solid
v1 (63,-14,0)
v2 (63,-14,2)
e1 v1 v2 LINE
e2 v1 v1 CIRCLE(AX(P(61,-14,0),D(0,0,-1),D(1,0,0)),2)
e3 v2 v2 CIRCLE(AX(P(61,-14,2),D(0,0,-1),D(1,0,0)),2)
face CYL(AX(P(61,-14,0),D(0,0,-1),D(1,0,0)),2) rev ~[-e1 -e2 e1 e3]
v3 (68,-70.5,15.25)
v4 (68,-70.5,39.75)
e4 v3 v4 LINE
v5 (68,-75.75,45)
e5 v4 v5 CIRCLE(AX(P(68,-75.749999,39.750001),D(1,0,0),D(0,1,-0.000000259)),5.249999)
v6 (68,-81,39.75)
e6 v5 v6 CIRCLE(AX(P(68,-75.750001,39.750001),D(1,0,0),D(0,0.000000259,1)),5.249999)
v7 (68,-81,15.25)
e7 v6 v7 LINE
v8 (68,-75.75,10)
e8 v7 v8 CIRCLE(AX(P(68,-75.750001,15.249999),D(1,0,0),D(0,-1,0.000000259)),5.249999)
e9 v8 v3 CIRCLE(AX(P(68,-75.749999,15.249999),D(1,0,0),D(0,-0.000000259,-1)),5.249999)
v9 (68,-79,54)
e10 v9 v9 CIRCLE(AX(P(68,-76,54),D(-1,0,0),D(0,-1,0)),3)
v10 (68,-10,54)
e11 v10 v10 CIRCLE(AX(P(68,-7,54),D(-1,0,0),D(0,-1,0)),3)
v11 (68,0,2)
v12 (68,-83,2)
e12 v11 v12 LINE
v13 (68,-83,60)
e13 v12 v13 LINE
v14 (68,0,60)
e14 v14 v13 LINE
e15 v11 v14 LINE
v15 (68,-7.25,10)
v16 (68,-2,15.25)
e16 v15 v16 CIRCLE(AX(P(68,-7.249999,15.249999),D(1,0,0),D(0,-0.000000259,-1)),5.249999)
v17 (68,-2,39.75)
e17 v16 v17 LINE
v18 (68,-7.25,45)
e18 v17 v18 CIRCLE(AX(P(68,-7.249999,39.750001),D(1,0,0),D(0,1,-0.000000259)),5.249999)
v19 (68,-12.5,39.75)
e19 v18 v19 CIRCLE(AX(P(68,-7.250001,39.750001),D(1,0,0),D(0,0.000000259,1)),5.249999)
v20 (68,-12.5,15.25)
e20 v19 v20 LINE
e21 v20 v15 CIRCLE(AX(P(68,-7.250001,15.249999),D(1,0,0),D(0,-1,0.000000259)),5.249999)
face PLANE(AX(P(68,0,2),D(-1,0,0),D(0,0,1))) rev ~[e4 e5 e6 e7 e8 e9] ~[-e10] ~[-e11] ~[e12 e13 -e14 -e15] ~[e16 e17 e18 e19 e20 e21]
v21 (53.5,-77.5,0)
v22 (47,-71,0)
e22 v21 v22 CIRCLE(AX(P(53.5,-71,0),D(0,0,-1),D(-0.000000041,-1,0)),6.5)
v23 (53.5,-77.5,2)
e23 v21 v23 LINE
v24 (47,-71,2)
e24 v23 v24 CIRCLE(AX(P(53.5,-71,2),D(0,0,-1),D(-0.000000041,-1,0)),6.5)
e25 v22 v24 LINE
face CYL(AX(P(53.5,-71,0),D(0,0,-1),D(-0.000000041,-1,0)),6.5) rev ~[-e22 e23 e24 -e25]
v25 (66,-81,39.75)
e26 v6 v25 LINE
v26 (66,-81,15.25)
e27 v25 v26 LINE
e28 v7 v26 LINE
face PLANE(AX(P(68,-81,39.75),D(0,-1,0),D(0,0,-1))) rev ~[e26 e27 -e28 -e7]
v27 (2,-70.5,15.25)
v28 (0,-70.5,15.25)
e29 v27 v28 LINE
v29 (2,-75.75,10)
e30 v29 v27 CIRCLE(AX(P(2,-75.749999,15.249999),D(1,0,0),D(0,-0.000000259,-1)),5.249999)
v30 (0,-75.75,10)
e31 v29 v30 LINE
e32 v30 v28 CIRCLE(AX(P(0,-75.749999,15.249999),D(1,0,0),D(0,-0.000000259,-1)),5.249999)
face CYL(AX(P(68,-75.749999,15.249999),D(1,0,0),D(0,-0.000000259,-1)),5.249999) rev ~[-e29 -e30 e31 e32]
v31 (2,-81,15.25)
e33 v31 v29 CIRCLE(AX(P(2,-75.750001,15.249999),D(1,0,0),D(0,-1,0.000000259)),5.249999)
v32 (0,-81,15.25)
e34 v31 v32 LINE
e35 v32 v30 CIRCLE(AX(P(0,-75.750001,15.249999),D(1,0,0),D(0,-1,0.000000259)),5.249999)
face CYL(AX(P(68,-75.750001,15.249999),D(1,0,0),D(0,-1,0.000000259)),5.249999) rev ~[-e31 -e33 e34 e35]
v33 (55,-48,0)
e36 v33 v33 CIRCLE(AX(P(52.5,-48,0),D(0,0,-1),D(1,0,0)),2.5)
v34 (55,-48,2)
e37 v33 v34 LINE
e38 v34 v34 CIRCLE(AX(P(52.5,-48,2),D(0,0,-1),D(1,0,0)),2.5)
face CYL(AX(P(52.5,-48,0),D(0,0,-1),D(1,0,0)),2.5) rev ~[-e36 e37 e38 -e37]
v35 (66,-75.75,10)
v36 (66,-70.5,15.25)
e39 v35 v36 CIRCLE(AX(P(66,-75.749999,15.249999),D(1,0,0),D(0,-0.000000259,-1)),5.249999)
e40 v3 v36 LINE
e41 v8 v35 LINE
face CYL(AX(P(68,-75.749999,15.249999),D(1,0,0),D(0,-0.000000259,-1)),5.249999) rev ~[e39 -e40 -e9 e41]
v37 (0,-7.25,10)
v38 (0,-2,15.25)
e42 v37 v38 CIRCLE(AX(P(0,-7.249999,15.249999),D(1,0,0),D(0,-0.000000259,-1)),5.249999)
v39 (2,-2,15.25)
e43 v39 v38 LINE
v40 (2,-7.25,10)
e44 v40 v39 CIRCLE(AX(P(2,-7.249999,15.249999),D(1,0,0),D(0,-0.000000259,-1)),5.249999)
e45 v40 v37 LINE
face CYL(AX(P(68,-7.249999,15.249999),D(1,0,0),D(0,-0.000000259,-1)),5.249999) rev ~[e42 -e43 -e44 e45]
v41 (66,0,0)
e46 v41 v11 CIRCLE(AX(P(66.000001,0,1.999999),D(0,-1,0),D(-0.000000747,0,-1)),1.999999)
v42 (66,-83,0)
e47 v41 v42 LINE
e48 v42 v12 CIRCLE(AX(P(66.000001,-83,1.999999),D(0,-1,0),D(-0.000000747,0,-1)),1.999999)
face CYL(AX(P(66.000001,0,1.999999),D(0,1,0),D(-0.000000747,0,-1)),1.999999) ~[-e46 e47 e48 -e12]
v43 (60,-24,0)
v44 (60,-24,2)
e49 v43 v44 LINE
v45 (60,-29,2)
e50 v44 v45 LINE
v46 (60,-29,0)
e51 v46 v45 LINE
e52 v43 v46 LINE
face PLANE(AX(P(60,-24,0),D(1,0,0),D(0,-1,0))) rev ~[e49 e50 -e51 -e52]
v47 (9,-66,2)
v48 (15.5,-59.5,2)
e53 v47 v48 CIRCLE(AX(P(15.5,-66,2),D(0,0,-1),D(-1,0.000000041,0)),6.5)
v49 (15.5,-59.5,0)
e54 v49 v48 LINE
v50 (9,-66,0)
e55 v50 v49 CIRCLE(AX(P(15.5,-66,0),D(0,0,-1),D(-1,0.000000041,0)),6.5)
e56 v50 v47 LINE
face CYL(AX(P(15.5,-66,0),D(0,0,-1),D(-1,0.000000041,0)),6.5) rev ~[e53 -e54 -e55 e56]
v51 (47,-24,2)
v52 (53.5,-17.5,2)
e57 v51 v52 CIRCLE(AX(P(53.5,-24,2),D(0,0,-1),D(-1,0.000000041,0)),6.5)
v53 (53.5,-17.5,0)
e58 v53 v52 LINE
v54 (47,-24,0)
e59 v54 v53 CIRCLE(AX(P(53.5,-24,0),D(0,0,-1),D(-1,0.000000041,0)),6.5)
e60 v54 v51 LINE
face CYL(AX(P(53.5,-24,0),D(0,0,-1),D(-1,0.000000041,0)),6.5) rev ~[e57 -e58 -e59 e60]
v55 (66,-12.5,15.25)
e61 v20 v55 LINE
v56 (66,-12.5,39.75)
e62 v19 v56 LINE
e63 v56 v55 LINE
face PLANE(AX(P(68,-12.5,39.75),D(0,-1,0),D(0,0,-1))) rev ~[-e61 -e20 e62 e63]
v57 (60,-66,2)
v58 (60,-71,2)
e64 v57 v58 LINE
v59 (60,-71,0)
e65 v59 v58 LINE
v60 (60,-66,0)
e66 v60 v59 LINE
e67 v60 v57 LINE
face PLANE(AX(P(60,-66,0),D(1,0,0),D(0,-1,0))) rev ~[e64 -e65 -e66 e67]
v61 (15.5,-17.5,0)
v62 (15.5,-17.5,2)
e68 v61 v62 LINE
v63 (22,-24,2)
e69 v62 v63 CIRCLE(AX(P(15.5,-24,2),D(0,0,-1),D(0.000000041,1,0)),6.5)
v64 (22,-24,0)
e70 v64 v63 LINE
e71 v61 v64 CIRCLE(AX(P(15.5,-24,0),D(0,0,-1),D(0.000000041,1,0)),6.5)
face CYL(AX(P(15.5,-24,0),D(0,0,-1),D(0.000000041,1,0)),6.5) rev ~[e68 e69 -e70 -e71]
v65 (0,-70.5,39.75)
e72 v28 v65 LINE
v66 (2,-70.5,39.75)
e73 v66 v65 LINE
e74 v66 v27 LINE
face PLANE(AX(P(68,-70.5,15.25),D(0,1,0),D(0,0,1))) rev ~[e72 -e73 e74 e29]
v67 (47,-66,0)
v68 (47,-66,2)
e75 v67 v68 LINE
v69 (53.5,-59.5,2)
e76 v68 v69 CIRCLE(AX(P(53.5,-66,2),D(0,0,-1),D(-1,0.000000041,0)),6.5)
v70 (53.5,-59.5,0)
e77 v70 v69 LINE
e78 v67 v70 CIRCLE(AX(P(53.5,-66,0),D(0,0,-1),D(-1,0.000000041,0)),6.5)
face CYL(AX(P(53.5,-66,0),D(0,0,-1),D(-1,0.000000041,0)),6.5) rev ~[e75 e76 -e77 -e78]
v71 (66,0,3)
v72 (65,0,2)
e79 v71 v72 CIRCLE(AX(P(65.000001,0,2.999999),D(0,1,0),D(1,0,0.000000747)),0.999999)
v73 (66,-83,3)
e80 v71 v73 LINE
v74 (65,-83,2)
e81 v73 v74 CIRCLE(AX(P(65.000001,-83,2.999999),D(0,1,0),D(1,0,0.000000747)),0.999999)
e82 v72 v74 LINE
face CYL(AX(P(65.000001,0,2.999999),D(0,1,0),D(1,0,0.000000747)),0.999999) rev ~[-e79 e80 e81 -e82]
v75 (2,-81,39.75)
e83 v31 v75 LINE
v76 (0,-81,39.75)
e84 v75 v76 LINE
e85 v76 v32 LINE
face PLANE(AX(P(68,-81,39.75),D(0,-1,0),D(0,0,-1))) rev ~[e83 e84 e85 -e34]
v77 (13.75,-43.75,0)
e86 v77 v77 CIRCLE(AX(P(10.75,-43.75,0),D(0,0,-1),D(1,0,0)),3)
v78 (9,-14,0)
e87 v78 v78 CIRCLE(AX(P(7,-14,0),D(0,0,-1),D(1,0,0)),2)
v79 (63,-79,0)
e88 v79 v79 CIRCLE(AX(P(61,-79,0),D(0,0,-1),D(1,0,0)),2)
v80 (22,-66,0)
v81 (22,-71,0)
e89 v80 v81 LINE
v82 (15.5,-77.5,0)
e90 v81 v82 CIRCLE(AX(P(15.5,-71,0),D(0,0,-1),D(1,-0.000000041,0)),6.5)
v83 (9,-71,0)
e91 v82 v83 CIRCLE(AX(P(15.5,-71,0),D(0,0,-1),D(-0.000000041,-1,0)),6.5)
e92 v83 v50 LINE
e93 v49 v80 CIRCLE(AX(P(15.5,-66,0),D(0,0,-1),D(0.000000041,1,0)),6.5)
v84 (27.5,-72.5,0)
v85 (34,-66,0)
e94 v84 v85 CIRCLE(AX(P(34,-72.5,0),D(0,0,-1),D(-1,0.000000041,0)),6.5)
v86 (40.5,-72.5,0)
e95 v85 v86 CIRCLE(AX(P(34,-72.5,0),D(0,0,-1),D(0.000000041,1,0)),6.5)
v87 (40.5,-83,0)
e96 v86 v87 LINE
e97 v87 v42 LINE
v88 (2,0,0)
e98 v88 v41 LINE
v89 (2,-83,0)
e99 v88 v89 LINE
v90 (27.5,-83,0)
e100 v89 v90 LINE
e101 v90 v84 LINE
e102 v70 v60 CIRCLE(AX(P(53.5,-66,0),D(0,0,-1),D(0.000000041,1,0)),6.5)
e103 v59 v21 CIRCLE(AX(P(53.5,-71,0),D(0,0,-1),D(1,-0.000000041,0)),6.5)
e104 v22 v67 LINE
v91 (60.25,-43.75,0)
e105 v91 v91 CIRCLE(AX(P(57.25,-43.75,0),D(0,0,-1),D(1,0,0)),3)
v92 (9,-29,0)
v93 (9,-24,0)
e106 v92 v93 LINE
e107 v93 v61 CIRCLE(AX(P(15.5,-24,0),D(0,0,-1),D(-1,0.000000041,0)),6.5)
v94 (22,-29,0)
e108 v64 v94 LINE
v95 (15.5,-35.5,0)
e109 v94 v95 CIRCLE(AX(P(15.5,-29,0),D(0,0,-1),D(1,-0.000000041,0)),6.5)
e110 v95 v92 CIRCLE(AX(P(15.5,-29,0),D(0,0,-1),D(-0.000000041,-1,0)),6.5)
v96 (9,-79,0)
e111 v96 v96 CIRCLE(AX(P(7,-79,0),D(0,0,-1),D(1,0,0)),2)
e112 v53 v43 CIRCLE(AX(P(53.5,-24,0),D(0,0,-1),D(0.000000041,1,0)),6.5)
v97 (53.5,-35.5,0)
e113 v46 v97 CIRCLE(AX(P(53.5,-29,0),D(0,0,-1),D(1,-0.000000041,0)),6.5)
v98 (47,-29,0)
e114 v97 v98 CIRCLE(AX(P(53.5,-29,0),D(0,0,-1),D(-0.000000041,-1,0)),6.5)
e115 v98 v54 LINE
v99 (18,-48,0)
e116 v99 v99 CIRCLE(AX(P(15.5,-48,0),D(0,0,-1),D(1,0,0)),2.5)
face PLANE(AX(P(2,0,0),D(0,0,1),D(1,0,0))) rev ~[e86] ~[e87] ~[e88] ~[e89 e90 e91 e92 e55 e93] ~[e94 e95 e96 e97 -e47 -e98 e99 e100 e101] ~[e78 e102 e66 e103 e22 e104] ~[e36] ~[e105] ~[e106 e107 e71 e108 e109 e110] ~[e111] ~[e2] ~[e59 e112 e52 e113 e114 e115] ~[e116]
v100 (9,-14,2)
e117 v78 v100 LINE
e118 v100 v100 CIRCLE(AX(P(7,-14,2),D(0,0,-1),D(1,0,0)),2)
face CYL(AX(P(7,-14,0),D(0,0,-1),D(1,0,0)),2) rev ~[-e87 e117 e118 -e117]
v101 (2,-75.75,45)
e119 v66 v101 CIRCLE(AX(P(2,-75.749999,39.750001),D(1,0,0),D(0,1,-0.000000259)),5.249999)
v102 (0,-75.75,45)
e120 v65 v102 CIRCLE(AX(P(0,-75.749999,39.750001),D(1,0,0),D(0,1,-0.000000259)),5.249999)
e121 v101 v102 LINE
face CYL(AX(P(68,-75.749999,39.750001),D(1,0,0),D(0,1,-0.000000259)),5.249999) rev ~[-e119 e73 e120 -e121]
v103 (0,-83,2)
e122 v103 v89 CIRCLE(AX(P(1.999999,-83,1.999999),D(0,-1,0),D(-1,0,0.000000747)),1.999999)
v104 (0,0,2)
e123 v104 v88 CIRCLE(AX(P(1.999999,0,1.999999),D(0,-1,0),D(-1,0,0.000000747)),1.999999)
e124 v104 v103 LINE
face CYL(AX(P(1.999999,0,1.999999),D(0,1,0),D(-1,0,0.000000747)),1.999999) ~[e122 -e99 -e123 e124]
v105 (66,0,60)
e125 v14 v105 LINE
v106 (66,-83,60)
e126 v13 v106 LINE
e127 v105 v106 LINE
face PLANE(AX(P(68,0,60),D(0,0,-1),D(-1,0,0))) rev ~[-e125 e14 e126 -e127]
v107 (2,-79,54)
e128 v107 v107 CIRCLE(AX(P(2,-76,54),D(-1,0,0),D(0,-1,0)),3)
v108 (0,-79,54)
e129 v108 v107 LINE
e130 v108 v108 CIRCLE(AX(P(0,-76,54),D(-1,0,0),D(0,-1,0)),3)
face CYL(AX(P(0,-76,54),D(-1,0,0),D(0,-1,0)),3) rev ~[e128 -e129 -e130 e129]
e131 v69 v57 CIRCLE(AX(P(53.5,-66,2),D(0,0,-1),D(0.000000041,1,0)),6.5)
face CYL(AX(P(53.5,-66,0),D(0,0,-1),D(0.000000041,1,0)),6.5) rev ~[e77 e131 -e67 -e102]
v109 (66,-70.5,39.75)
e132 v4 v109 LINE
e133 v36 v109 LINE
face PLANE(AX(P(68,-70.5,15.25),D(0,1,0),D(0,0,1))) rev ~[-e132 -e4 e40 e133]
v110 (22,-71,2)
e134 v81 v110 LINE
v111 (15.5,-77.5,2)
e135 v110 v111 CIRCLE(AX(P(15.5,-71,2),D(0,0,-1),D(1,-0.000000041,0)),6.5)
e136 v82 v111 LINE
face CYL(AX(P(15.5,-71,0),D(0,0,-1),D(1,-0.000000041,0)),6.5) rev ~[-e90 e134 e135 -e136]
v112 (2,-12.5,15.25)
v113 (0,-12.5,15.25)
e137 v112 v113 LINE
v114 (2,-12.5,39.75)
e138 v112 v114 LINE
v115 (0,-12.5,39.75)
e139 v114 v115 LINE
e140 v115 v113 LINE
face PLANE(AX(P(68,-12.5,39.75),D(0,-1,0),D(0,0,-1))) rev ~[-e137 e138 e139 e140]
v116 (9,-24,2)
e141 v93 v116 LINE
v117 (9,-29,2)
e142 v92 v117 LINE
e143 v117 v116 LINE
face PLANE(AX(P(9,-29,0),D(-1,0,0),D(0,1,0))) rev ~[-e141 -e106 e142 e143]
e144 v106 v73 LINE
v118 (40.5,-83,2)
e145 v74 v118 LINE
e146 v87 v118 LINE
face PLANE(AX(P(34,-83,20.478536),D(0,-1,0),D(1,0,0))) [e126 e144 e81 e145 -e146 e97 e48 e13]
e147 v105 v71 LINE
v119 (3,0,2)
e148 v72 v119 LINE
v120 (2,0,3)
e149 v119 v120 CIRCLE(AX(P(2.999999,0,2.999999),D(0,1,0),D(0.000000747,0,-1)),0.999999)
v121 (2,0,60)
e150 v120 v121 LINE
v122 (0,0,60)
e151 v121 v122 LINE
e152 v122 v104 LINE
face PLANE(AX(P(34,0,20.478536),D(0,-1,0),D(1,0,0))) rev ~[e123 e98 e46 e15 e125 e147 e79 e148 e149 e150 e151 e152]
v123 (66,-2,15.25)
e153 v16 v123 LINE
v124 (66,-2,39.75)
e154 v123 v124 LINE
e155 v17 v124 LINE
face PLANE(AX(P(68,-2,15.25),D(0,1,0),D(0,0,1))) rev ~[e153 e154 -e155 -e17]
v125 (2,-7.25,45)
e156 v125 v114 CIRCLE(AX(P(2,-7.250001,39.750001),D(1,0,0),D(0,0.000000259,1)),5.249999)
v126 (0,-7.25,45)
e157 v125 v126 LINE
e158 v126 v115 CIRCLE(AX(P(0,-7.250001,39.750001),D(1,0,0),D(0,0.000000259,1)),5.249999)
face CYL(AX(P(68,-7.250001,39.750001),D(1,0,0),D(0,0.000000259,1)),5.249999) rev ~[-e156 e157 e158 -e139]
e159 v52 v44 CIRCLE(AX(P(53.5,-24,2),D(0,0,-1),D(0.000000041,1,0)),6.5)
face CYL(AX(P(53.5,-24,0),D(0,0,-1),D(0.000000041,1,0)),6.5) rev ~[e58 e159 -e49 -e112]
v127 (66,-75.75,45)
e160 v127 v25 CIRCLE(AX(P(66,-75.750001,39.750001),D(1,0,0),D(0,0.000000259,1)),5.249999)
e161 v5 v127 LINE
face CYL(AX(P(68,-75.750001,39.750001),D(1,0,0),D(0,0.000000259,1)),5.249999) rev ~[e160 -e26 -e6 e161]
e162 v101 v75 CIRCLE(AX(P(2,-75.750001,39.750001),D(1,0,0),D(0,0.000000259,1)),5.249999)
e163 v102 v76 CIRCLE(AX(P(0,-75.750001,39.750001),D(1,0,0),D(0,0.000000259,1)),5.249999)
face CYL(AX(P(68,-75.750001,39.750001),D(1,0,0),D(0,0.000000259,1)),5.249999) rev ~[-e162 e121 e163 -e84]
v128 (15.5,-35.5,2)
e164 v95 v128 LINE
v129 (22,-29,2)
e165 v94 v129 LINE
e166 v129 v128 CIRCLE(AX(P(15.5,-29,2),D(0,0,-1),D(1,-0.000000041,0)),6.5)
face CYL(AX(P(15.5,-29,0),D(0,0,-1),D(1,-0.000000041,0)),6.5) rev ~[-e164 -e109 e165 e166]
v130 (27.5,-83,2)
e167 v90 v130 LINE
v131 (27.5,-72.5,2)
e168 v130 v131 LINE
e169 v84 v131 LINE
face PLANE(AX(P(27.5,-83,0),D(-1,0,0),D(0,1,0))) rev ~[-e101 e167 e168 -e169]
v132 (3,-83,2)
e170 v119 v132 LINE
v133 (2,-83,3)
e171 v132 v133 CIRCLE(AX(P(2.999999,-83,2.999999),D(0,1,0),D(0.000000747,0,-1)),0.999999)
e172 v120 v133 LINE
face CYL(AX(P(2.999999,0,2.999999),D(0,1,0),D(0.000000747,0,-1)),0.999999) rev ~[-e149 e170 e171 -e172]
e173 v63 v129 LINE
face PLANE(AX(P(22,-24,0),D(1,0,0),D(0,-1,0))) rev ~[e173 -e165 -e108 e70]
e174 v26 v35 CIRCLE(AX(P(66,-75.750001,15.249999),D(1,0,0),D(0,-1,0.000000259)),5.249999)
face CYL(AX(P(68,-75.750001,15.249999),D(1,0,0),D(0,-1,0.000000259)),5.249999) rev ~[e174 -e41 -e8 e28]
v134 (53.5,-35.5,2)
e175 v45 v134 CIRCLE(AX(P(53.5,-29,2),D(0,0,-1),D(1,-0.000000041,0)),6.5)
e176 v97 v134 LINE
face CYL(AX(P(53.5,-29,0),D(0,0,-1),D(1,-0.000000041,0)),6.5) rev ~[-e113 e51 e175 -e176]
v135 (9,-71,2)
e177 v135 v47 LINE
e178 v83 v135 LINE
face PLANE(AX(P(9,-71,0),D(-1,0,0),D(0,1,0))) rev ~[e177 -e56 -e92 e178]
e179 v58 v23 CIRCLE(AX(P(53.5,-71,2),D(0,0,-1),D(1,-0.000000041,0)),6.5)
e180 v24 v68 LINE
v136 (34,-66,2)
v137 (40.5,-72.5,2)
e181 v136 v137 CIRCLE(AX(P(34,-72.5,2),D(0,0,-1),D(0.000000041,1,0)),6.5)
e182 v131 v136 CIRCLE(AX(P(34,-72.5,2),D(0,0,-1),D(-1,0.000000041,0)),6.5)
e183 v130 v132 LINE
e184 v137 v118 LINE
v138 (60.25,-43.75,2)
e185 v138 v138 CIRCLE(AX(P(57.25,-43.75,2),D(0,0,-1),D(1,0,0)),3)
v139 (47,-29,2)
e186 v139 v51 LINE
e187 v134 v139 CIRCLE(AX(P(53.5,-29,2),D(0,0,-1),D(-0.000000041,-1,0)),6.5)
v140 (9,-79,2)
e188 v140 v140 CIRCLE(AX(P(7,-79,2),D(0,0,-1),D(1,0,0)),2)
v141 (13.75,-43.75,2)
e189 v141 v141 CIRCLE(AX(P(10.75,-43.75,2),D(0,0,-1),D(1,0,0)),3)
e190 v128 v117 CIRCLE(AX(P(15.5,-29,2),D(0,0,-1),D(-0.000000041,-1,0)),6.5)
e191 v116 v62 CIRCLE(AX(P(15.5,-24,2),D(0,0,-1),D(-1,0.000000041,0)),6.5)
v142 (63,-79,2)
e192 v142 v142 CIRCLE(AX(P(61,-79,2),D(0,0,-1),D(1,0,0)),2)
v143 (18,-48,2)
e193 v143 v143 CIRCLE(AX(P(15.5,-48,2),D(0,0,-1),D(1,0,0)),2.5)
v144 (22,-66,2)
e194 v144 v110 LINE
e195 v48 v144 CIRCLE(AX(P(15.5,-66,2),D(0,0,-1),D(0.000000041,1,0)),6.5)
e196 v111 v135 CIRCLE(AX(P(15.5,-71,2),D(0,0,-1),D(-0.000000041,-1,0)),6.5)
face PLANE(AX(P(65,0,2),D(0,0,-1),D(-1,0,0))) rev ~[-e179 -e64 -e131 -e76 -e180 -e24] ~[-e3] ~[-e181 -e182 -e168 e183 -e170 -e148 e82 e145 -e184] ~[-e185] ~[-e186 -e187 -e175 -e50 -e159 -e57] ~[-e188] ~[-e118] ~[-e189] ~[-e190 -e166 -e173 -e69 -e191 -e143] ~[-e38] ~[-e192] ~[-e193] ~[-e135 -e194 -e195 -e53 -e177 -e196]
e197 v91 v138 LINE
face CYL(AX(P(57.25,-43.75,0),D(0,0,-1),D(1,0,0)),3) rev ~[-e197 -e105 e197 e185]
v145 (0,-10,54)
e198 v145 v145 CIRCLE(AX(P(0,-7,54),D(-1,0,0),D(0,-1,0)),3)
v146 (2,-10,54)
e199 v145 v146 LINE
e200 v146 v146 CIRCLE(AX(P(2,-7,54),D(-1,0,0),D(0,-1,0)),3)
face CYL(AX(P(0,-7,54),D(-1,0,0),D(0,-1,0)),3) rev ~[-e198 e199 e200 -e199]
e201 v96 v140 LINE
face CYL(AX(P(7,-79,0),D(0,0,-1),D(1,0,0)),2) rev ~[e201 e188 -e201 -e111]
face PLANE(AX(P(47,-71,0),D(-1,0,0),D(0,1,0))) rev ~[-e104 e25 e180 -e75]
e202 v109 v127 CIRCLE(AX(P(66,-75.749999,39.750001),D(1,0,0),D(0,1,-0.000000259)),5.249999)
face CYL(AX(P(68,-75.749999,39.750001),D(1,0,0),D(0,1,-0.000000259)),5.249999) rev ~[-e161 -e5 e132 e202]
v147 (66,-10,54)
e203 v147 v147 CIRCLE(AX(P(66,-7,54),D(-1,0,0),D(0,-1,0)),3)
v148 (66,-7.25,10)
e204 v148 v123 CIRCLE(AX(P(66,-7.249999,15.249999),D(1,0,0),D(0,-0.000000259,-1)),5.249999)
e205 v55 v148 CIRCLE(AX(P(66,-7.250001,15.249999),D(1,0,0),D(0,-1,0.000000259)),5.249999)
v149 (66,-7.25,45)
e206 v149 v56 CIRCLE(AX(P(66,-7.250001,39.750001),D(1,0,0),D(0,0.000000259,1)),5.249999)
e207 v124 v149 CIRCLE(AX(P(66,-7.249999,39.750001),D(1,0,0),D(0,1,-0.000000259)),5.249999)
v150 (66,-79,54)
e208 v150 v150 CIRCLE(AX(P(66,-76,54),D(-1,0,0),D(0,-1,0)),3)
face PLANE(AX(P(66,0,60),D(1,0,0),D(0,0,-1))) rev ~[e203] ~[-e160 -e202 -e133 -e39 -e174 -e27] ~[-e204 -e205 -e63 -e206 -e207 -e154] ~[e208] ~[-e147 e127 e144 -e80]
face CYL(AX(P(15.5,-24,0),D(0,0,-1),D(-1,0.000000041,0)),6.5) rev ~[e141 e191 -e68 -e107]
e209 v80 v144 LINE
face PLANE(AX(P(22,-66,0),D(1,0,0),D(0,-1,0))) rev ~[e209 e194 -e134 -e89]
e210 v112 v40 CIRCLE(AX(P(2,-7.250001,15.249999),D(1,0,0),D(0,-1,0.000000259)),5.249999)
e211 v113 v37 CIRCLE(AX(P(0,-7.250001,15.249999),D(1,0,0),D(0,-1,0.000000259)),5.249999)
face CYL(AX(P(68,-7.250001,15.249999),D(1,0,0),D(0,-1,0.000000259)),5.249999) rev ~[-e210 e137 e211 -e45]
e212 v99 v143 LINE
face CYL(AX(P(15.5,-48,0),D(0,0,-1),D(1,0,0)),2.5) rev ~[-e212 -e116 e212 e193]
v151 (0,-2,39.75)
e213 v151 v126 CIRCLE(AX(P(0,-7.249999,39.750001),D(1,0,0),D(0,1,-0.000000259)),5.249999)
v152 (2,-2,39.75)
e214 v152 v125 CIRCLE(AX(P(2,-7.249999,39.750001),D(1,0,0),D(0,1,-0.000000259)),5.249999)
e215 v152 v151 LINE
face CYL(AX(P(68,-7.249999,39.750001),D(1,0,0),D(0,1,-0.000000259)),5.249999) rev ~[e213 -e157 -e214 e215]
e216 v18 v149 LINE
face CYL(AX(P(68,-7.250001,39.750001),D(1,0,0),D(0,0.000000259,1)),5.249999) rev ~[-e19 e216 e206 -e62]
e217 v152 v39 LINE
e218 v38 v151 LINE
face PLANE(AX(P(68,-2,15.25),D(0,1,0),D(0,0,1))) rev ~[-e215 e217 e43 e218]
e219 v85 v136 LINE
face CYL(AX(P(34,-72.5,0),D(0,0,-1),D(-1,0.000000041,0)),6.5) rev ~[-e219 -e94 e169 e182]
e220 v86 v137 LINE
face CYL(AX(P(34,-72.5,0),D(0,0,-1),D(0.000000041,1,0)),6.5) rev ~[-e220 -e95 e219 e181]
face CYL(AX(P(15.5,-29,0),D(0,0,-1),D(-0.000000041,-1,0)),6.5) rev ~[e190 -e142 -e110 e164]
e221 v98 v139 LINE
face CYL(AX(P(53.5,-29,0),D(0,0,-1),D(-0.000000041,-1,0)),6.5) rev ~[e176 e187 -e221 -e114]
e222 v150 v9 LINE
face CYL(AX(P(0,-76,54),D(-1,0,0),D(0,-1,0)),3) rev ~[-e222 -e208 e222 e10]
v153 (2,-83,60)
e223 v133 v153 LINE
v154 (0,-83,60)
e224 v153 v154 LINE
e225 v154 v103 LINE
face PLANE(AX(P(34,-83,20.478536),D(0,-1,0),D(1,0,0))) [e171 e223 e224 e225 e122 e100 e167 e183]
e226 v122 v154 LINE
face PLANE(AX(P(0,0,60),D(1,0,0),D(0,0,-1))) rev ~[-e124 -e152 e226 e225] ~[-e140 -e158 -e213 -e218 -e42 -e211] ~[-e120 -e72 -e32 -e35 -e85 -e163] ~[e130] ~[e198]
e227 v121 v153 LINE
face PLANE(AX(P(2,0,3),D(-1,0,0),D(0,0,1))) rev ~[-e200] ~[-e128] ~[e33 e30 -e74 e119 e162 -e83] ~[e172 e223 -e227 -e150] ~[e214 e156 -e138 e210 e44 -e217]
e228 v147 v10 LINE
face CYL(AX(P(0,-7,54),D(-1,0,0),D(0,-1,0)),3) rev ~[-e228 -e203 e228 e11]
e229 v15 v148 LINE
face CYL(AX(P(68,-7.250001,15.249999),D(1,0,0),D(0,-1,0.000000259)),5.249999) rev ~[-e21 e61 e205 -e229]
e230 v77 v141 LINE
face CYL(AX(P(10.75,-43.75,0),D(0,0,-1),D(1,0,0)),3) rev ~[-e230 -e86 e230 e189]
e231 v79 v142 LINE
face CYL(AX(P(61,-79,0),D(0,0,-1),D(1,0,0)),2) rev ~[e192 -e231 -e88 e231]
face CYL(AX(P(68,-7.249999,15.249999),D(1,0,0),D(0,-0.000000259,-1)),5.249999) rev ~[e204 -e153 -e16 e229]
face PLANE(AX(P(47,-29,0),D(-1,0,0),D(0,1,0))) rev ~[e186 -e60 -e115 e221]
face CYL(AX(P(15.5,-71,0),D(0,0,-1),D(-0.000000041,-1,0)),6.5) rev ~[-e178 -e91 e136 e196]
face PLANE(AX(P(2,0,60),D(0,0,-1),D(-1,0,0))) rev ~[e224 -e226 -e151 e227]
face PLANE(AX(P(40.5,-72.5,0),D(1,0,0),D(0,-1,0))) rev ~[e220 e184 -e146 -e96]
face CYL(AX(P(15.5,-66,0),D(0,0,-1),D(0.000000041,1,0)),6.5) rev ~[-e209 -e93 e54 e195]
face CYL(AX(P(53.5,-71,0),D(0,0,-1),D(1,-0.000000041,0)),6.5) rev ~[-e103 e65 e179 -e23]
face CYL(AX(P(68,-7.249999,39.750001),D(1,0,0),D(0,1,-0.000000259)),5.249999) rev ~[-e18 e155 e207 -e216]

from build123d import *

# Parameters (mm, degrees)
F1_DEPTH  = 83
F3_DEPTH  = 68.001
F5_DEPTH  = 60.001
F6_R      = 3
F7_DEPTH  = 60.001
F8_R      = 2.5
F9_DEPTH  = 60.001
F10_R     = 2
F11_DEPTH = 60.001
F13_DEPTH = 60.001
F14_R     = 3
F15_DEPTH = 68.001


with BuildPart() as f1:
    # F0 (on Front) → F1 (new body)
    with BuildSketch(Plane.XZ):
        with BuildLine():
            ThreePointArc((0, 2), (0.585786, 0.585786), (2, 0))
            Line((2, 0), (66, 0))
            ThreePointArc((66, 0), (67.414214, 0.585786), (68, 2))
            Line((68, 2), (68, 60))
            Line((68, 60), (66, 60))
            Line((66, 60), (66, 3))
            ThreePointArc((66, 3), (65.707107, 2.292893), (65, 2))
            Line((65, 2), (3, 2))
            ThreePointArc((3, 2), (2.292893, 2.292893), (2, 3))
            Line((2, 3), (2, 60))
            Line((2, 60), (0, 60))
            Line((0, 60), (0, 2))
        make_face()
    extrude(amount=F1_DEPTH)

    # F2 (on face) → F3 (cut, through all)
    with BuildSketch(Plane.YZ.offset(68)):
        with BuildLine():
            Line((-81, 39.75), (-81, 15.25))
            ThreePointArc((-81, 15.25), (-79.462311, 11.537689), (-75.75, 10))
            ThreePointArc((-75.75, 10), (-72.037689, 11.537689), (-70.5, 15.25))
            Line((-70.5, 15.25), (-70.5, 39.75))
            ThreePointArc((-70.5, 39.75), (-72.037689, 43.462311), (-75.75, 45))
            ThreePointArc((-75.75, 45), (-79.462311, 43.462311), (-81, 39.75))
        make_face()
        with BuildLine():
            ThreePointArc((-7.25, 45), (-10.962311, 43.462311), (-12.5, 39.75))
            Line((-12.5, 39.75), (-12.5, 15.25))
            ThreePointArc((-12.5, 15.25), (-10.962311, 11.537689), (-7.25, 10))
            ThreePointArc((-7.25, 10), (-3.537689, 11.537689), (-2, 15.25))
            Line((-2, 15.25), (-2, 39.75))
            ThreePointArc((-2, 39.75), (-3.537689, 43.462311), (-7.25, 45))
        make_face()
    extrude(amount=-F3_DEPTH, mode=Mode.SUBTRACT)

    # F4 (on face) → F5 (cut, through all)
    with BuildSketch(Plane(origin=(0, 0, 0), x_dir=(1, 0, 0), z_dir=(0, 0, -1))):
        with BuildLine():
            Line((9, 71), (9, 66))
            ThreePointArc((9, 66), (10.903806, 61.403806), (15.5, 59.5))
            ThreePointArc((15.5, 59.5), (20.096194, 61.403806), (22, 66))
            Line((22, 66), (22, 71))
            ThreePointArc((22, 71), (20.096194, 75.596194), (15.5, 77.5))
            ThreePointArc((15.5, 77.5), (10.903806, 75.596194), (9, 71))
        make_face()
        with BuildLine():
            Line((60, 66), (60, 71))
            ThreePointArc((60, 71), (58.096194, 75.596194), (53.5, 77.5))
            ThreePointArc((53.5, 77.5), (48.903806, 75.596194), (47, 71))
            Line((47, 71), (47, 66))
            ThreePointArc((47, 66), (48.903806, 61.403806), (53.5, 59.5))
            ThreePointArc((53.5, 59.5), (58.096194, 61.403806), (60, 66))
        make_face()
        with BuildLine():
            Line((60, 24), (60, 29))
            ThreePointArc((60, 29), (58.096194, 33.596194), (53.5, 35.5))
            ThreePointArc((53.5, 35.5), (48.903806, 33.596194), (47, 29))
            Line((47, 29), (47, 24))
            ThreePointArc((47, 24), (48.903806, 19.403806), (53.5, 17.5))
            ThreePointArc((53.5, 17.5), (58.096194, 19.403806), (60, 24))
        make_face()
        with BuildLine():
            Line((22, 24), (22, 29))
            ThreePointArc((22, 29), (20.096194, 33.596194), (15.5, 35.5))
            ThreePointArc((15.5, 35.5), (10.903806, 33.596194), (9, 29))
            Line((9, 29), (9, 24))
            ThreePointArc((9, 24), (10.903806, 19.403806), (15.5, 17.5))
            ThreePointArc((15.5, 17.5), (20.096194, 19.403806), (22, 24))
        make_face()
    extrude(amount=-F5_DEPTH, mode=Mode.SUBTRACT)

    # F6 (on face) → F7 (cut, through all)
    with BuildSketch(Plane(origin=(0, 0, 0), x_dir=(1, 0, 0), z_dir=(0, 0, -1))):
        with Locations((57.25, 43.75)):
            Circle(F6_R)
        with Locations((10.75, 43.75)):
            Circle(F6_R)
    extrude(amount=-F7_DEPTH, mode=Mode.SUBTRACT)

    # F8 (on face) → F9 (cut, through all)
    with BuildSketch(Plane(origin=(0, 0, 0), x_dir=(1, 0, 0), z_dir=(0, 0, -1))):
        with Locations((15.5, 48)):
            Circle(F8_R)
        with Locations((52.5, 48)):
            Circle(F8_R)
    extrude(amount=-F9_DEPTH, mode=Mode.SUBTRACT)

    # F10 (on face) → F11 (cut, through all)
    with BuildSketch(Plane(origin=(0, 0, 0), x_dir=(1, 0, 0), z_dir=(0, 0, -1))):
        with Locations((7, 79)):
            Circle(F10_R)
        with Locations((61, 79)):
            Circle(F10_R)
        with Locations((7, 14)):
            Circle(F10_R)
        with Locations((61, 14)):
            Circle(F10_R)
    extrude(amount=-F11_DEPTH, mode=Mode.SUBTRACT)

    # F12 (on face) → F13 (cut, through all)
    with BuildSketch(Plane(origin=(0, 0, 0), x_dir=(1, 0, 0), z_dir=(0, 0, -1))):
        with BuildLine():
            Line((40.5, 83), (27.5, 83))
            Line((27.5, 83), (27.5, 72.5))
            ThreePointArc((27.5, 72.5), (29.403806, 67.903806), (34, 66))
            ThreePointArc((34, 66), (38.596194, 67.903806), (40.5, 72.5))
            Line((40.5, 72.5), (40.5, 83))
        make_face()
    extrude(amount=-F13_DEPTH, mode=Mode.SUBTRACT)

    # F14 (on face) → F15 (cut, through all)
    with BuildSketch(Plane(origin=(0, 0, 0), x_dir=(0, -1, 0), z_dir=(-1, 0, 0))):
        with Locations((7, 54)):
            Circle(F14_R)
        with Locations((76, 54)):
            Circle(F14_R)
    extrude(amount=-F15_DEPTH, mode=Mode.SUBTRACT)


solid = f1.part
